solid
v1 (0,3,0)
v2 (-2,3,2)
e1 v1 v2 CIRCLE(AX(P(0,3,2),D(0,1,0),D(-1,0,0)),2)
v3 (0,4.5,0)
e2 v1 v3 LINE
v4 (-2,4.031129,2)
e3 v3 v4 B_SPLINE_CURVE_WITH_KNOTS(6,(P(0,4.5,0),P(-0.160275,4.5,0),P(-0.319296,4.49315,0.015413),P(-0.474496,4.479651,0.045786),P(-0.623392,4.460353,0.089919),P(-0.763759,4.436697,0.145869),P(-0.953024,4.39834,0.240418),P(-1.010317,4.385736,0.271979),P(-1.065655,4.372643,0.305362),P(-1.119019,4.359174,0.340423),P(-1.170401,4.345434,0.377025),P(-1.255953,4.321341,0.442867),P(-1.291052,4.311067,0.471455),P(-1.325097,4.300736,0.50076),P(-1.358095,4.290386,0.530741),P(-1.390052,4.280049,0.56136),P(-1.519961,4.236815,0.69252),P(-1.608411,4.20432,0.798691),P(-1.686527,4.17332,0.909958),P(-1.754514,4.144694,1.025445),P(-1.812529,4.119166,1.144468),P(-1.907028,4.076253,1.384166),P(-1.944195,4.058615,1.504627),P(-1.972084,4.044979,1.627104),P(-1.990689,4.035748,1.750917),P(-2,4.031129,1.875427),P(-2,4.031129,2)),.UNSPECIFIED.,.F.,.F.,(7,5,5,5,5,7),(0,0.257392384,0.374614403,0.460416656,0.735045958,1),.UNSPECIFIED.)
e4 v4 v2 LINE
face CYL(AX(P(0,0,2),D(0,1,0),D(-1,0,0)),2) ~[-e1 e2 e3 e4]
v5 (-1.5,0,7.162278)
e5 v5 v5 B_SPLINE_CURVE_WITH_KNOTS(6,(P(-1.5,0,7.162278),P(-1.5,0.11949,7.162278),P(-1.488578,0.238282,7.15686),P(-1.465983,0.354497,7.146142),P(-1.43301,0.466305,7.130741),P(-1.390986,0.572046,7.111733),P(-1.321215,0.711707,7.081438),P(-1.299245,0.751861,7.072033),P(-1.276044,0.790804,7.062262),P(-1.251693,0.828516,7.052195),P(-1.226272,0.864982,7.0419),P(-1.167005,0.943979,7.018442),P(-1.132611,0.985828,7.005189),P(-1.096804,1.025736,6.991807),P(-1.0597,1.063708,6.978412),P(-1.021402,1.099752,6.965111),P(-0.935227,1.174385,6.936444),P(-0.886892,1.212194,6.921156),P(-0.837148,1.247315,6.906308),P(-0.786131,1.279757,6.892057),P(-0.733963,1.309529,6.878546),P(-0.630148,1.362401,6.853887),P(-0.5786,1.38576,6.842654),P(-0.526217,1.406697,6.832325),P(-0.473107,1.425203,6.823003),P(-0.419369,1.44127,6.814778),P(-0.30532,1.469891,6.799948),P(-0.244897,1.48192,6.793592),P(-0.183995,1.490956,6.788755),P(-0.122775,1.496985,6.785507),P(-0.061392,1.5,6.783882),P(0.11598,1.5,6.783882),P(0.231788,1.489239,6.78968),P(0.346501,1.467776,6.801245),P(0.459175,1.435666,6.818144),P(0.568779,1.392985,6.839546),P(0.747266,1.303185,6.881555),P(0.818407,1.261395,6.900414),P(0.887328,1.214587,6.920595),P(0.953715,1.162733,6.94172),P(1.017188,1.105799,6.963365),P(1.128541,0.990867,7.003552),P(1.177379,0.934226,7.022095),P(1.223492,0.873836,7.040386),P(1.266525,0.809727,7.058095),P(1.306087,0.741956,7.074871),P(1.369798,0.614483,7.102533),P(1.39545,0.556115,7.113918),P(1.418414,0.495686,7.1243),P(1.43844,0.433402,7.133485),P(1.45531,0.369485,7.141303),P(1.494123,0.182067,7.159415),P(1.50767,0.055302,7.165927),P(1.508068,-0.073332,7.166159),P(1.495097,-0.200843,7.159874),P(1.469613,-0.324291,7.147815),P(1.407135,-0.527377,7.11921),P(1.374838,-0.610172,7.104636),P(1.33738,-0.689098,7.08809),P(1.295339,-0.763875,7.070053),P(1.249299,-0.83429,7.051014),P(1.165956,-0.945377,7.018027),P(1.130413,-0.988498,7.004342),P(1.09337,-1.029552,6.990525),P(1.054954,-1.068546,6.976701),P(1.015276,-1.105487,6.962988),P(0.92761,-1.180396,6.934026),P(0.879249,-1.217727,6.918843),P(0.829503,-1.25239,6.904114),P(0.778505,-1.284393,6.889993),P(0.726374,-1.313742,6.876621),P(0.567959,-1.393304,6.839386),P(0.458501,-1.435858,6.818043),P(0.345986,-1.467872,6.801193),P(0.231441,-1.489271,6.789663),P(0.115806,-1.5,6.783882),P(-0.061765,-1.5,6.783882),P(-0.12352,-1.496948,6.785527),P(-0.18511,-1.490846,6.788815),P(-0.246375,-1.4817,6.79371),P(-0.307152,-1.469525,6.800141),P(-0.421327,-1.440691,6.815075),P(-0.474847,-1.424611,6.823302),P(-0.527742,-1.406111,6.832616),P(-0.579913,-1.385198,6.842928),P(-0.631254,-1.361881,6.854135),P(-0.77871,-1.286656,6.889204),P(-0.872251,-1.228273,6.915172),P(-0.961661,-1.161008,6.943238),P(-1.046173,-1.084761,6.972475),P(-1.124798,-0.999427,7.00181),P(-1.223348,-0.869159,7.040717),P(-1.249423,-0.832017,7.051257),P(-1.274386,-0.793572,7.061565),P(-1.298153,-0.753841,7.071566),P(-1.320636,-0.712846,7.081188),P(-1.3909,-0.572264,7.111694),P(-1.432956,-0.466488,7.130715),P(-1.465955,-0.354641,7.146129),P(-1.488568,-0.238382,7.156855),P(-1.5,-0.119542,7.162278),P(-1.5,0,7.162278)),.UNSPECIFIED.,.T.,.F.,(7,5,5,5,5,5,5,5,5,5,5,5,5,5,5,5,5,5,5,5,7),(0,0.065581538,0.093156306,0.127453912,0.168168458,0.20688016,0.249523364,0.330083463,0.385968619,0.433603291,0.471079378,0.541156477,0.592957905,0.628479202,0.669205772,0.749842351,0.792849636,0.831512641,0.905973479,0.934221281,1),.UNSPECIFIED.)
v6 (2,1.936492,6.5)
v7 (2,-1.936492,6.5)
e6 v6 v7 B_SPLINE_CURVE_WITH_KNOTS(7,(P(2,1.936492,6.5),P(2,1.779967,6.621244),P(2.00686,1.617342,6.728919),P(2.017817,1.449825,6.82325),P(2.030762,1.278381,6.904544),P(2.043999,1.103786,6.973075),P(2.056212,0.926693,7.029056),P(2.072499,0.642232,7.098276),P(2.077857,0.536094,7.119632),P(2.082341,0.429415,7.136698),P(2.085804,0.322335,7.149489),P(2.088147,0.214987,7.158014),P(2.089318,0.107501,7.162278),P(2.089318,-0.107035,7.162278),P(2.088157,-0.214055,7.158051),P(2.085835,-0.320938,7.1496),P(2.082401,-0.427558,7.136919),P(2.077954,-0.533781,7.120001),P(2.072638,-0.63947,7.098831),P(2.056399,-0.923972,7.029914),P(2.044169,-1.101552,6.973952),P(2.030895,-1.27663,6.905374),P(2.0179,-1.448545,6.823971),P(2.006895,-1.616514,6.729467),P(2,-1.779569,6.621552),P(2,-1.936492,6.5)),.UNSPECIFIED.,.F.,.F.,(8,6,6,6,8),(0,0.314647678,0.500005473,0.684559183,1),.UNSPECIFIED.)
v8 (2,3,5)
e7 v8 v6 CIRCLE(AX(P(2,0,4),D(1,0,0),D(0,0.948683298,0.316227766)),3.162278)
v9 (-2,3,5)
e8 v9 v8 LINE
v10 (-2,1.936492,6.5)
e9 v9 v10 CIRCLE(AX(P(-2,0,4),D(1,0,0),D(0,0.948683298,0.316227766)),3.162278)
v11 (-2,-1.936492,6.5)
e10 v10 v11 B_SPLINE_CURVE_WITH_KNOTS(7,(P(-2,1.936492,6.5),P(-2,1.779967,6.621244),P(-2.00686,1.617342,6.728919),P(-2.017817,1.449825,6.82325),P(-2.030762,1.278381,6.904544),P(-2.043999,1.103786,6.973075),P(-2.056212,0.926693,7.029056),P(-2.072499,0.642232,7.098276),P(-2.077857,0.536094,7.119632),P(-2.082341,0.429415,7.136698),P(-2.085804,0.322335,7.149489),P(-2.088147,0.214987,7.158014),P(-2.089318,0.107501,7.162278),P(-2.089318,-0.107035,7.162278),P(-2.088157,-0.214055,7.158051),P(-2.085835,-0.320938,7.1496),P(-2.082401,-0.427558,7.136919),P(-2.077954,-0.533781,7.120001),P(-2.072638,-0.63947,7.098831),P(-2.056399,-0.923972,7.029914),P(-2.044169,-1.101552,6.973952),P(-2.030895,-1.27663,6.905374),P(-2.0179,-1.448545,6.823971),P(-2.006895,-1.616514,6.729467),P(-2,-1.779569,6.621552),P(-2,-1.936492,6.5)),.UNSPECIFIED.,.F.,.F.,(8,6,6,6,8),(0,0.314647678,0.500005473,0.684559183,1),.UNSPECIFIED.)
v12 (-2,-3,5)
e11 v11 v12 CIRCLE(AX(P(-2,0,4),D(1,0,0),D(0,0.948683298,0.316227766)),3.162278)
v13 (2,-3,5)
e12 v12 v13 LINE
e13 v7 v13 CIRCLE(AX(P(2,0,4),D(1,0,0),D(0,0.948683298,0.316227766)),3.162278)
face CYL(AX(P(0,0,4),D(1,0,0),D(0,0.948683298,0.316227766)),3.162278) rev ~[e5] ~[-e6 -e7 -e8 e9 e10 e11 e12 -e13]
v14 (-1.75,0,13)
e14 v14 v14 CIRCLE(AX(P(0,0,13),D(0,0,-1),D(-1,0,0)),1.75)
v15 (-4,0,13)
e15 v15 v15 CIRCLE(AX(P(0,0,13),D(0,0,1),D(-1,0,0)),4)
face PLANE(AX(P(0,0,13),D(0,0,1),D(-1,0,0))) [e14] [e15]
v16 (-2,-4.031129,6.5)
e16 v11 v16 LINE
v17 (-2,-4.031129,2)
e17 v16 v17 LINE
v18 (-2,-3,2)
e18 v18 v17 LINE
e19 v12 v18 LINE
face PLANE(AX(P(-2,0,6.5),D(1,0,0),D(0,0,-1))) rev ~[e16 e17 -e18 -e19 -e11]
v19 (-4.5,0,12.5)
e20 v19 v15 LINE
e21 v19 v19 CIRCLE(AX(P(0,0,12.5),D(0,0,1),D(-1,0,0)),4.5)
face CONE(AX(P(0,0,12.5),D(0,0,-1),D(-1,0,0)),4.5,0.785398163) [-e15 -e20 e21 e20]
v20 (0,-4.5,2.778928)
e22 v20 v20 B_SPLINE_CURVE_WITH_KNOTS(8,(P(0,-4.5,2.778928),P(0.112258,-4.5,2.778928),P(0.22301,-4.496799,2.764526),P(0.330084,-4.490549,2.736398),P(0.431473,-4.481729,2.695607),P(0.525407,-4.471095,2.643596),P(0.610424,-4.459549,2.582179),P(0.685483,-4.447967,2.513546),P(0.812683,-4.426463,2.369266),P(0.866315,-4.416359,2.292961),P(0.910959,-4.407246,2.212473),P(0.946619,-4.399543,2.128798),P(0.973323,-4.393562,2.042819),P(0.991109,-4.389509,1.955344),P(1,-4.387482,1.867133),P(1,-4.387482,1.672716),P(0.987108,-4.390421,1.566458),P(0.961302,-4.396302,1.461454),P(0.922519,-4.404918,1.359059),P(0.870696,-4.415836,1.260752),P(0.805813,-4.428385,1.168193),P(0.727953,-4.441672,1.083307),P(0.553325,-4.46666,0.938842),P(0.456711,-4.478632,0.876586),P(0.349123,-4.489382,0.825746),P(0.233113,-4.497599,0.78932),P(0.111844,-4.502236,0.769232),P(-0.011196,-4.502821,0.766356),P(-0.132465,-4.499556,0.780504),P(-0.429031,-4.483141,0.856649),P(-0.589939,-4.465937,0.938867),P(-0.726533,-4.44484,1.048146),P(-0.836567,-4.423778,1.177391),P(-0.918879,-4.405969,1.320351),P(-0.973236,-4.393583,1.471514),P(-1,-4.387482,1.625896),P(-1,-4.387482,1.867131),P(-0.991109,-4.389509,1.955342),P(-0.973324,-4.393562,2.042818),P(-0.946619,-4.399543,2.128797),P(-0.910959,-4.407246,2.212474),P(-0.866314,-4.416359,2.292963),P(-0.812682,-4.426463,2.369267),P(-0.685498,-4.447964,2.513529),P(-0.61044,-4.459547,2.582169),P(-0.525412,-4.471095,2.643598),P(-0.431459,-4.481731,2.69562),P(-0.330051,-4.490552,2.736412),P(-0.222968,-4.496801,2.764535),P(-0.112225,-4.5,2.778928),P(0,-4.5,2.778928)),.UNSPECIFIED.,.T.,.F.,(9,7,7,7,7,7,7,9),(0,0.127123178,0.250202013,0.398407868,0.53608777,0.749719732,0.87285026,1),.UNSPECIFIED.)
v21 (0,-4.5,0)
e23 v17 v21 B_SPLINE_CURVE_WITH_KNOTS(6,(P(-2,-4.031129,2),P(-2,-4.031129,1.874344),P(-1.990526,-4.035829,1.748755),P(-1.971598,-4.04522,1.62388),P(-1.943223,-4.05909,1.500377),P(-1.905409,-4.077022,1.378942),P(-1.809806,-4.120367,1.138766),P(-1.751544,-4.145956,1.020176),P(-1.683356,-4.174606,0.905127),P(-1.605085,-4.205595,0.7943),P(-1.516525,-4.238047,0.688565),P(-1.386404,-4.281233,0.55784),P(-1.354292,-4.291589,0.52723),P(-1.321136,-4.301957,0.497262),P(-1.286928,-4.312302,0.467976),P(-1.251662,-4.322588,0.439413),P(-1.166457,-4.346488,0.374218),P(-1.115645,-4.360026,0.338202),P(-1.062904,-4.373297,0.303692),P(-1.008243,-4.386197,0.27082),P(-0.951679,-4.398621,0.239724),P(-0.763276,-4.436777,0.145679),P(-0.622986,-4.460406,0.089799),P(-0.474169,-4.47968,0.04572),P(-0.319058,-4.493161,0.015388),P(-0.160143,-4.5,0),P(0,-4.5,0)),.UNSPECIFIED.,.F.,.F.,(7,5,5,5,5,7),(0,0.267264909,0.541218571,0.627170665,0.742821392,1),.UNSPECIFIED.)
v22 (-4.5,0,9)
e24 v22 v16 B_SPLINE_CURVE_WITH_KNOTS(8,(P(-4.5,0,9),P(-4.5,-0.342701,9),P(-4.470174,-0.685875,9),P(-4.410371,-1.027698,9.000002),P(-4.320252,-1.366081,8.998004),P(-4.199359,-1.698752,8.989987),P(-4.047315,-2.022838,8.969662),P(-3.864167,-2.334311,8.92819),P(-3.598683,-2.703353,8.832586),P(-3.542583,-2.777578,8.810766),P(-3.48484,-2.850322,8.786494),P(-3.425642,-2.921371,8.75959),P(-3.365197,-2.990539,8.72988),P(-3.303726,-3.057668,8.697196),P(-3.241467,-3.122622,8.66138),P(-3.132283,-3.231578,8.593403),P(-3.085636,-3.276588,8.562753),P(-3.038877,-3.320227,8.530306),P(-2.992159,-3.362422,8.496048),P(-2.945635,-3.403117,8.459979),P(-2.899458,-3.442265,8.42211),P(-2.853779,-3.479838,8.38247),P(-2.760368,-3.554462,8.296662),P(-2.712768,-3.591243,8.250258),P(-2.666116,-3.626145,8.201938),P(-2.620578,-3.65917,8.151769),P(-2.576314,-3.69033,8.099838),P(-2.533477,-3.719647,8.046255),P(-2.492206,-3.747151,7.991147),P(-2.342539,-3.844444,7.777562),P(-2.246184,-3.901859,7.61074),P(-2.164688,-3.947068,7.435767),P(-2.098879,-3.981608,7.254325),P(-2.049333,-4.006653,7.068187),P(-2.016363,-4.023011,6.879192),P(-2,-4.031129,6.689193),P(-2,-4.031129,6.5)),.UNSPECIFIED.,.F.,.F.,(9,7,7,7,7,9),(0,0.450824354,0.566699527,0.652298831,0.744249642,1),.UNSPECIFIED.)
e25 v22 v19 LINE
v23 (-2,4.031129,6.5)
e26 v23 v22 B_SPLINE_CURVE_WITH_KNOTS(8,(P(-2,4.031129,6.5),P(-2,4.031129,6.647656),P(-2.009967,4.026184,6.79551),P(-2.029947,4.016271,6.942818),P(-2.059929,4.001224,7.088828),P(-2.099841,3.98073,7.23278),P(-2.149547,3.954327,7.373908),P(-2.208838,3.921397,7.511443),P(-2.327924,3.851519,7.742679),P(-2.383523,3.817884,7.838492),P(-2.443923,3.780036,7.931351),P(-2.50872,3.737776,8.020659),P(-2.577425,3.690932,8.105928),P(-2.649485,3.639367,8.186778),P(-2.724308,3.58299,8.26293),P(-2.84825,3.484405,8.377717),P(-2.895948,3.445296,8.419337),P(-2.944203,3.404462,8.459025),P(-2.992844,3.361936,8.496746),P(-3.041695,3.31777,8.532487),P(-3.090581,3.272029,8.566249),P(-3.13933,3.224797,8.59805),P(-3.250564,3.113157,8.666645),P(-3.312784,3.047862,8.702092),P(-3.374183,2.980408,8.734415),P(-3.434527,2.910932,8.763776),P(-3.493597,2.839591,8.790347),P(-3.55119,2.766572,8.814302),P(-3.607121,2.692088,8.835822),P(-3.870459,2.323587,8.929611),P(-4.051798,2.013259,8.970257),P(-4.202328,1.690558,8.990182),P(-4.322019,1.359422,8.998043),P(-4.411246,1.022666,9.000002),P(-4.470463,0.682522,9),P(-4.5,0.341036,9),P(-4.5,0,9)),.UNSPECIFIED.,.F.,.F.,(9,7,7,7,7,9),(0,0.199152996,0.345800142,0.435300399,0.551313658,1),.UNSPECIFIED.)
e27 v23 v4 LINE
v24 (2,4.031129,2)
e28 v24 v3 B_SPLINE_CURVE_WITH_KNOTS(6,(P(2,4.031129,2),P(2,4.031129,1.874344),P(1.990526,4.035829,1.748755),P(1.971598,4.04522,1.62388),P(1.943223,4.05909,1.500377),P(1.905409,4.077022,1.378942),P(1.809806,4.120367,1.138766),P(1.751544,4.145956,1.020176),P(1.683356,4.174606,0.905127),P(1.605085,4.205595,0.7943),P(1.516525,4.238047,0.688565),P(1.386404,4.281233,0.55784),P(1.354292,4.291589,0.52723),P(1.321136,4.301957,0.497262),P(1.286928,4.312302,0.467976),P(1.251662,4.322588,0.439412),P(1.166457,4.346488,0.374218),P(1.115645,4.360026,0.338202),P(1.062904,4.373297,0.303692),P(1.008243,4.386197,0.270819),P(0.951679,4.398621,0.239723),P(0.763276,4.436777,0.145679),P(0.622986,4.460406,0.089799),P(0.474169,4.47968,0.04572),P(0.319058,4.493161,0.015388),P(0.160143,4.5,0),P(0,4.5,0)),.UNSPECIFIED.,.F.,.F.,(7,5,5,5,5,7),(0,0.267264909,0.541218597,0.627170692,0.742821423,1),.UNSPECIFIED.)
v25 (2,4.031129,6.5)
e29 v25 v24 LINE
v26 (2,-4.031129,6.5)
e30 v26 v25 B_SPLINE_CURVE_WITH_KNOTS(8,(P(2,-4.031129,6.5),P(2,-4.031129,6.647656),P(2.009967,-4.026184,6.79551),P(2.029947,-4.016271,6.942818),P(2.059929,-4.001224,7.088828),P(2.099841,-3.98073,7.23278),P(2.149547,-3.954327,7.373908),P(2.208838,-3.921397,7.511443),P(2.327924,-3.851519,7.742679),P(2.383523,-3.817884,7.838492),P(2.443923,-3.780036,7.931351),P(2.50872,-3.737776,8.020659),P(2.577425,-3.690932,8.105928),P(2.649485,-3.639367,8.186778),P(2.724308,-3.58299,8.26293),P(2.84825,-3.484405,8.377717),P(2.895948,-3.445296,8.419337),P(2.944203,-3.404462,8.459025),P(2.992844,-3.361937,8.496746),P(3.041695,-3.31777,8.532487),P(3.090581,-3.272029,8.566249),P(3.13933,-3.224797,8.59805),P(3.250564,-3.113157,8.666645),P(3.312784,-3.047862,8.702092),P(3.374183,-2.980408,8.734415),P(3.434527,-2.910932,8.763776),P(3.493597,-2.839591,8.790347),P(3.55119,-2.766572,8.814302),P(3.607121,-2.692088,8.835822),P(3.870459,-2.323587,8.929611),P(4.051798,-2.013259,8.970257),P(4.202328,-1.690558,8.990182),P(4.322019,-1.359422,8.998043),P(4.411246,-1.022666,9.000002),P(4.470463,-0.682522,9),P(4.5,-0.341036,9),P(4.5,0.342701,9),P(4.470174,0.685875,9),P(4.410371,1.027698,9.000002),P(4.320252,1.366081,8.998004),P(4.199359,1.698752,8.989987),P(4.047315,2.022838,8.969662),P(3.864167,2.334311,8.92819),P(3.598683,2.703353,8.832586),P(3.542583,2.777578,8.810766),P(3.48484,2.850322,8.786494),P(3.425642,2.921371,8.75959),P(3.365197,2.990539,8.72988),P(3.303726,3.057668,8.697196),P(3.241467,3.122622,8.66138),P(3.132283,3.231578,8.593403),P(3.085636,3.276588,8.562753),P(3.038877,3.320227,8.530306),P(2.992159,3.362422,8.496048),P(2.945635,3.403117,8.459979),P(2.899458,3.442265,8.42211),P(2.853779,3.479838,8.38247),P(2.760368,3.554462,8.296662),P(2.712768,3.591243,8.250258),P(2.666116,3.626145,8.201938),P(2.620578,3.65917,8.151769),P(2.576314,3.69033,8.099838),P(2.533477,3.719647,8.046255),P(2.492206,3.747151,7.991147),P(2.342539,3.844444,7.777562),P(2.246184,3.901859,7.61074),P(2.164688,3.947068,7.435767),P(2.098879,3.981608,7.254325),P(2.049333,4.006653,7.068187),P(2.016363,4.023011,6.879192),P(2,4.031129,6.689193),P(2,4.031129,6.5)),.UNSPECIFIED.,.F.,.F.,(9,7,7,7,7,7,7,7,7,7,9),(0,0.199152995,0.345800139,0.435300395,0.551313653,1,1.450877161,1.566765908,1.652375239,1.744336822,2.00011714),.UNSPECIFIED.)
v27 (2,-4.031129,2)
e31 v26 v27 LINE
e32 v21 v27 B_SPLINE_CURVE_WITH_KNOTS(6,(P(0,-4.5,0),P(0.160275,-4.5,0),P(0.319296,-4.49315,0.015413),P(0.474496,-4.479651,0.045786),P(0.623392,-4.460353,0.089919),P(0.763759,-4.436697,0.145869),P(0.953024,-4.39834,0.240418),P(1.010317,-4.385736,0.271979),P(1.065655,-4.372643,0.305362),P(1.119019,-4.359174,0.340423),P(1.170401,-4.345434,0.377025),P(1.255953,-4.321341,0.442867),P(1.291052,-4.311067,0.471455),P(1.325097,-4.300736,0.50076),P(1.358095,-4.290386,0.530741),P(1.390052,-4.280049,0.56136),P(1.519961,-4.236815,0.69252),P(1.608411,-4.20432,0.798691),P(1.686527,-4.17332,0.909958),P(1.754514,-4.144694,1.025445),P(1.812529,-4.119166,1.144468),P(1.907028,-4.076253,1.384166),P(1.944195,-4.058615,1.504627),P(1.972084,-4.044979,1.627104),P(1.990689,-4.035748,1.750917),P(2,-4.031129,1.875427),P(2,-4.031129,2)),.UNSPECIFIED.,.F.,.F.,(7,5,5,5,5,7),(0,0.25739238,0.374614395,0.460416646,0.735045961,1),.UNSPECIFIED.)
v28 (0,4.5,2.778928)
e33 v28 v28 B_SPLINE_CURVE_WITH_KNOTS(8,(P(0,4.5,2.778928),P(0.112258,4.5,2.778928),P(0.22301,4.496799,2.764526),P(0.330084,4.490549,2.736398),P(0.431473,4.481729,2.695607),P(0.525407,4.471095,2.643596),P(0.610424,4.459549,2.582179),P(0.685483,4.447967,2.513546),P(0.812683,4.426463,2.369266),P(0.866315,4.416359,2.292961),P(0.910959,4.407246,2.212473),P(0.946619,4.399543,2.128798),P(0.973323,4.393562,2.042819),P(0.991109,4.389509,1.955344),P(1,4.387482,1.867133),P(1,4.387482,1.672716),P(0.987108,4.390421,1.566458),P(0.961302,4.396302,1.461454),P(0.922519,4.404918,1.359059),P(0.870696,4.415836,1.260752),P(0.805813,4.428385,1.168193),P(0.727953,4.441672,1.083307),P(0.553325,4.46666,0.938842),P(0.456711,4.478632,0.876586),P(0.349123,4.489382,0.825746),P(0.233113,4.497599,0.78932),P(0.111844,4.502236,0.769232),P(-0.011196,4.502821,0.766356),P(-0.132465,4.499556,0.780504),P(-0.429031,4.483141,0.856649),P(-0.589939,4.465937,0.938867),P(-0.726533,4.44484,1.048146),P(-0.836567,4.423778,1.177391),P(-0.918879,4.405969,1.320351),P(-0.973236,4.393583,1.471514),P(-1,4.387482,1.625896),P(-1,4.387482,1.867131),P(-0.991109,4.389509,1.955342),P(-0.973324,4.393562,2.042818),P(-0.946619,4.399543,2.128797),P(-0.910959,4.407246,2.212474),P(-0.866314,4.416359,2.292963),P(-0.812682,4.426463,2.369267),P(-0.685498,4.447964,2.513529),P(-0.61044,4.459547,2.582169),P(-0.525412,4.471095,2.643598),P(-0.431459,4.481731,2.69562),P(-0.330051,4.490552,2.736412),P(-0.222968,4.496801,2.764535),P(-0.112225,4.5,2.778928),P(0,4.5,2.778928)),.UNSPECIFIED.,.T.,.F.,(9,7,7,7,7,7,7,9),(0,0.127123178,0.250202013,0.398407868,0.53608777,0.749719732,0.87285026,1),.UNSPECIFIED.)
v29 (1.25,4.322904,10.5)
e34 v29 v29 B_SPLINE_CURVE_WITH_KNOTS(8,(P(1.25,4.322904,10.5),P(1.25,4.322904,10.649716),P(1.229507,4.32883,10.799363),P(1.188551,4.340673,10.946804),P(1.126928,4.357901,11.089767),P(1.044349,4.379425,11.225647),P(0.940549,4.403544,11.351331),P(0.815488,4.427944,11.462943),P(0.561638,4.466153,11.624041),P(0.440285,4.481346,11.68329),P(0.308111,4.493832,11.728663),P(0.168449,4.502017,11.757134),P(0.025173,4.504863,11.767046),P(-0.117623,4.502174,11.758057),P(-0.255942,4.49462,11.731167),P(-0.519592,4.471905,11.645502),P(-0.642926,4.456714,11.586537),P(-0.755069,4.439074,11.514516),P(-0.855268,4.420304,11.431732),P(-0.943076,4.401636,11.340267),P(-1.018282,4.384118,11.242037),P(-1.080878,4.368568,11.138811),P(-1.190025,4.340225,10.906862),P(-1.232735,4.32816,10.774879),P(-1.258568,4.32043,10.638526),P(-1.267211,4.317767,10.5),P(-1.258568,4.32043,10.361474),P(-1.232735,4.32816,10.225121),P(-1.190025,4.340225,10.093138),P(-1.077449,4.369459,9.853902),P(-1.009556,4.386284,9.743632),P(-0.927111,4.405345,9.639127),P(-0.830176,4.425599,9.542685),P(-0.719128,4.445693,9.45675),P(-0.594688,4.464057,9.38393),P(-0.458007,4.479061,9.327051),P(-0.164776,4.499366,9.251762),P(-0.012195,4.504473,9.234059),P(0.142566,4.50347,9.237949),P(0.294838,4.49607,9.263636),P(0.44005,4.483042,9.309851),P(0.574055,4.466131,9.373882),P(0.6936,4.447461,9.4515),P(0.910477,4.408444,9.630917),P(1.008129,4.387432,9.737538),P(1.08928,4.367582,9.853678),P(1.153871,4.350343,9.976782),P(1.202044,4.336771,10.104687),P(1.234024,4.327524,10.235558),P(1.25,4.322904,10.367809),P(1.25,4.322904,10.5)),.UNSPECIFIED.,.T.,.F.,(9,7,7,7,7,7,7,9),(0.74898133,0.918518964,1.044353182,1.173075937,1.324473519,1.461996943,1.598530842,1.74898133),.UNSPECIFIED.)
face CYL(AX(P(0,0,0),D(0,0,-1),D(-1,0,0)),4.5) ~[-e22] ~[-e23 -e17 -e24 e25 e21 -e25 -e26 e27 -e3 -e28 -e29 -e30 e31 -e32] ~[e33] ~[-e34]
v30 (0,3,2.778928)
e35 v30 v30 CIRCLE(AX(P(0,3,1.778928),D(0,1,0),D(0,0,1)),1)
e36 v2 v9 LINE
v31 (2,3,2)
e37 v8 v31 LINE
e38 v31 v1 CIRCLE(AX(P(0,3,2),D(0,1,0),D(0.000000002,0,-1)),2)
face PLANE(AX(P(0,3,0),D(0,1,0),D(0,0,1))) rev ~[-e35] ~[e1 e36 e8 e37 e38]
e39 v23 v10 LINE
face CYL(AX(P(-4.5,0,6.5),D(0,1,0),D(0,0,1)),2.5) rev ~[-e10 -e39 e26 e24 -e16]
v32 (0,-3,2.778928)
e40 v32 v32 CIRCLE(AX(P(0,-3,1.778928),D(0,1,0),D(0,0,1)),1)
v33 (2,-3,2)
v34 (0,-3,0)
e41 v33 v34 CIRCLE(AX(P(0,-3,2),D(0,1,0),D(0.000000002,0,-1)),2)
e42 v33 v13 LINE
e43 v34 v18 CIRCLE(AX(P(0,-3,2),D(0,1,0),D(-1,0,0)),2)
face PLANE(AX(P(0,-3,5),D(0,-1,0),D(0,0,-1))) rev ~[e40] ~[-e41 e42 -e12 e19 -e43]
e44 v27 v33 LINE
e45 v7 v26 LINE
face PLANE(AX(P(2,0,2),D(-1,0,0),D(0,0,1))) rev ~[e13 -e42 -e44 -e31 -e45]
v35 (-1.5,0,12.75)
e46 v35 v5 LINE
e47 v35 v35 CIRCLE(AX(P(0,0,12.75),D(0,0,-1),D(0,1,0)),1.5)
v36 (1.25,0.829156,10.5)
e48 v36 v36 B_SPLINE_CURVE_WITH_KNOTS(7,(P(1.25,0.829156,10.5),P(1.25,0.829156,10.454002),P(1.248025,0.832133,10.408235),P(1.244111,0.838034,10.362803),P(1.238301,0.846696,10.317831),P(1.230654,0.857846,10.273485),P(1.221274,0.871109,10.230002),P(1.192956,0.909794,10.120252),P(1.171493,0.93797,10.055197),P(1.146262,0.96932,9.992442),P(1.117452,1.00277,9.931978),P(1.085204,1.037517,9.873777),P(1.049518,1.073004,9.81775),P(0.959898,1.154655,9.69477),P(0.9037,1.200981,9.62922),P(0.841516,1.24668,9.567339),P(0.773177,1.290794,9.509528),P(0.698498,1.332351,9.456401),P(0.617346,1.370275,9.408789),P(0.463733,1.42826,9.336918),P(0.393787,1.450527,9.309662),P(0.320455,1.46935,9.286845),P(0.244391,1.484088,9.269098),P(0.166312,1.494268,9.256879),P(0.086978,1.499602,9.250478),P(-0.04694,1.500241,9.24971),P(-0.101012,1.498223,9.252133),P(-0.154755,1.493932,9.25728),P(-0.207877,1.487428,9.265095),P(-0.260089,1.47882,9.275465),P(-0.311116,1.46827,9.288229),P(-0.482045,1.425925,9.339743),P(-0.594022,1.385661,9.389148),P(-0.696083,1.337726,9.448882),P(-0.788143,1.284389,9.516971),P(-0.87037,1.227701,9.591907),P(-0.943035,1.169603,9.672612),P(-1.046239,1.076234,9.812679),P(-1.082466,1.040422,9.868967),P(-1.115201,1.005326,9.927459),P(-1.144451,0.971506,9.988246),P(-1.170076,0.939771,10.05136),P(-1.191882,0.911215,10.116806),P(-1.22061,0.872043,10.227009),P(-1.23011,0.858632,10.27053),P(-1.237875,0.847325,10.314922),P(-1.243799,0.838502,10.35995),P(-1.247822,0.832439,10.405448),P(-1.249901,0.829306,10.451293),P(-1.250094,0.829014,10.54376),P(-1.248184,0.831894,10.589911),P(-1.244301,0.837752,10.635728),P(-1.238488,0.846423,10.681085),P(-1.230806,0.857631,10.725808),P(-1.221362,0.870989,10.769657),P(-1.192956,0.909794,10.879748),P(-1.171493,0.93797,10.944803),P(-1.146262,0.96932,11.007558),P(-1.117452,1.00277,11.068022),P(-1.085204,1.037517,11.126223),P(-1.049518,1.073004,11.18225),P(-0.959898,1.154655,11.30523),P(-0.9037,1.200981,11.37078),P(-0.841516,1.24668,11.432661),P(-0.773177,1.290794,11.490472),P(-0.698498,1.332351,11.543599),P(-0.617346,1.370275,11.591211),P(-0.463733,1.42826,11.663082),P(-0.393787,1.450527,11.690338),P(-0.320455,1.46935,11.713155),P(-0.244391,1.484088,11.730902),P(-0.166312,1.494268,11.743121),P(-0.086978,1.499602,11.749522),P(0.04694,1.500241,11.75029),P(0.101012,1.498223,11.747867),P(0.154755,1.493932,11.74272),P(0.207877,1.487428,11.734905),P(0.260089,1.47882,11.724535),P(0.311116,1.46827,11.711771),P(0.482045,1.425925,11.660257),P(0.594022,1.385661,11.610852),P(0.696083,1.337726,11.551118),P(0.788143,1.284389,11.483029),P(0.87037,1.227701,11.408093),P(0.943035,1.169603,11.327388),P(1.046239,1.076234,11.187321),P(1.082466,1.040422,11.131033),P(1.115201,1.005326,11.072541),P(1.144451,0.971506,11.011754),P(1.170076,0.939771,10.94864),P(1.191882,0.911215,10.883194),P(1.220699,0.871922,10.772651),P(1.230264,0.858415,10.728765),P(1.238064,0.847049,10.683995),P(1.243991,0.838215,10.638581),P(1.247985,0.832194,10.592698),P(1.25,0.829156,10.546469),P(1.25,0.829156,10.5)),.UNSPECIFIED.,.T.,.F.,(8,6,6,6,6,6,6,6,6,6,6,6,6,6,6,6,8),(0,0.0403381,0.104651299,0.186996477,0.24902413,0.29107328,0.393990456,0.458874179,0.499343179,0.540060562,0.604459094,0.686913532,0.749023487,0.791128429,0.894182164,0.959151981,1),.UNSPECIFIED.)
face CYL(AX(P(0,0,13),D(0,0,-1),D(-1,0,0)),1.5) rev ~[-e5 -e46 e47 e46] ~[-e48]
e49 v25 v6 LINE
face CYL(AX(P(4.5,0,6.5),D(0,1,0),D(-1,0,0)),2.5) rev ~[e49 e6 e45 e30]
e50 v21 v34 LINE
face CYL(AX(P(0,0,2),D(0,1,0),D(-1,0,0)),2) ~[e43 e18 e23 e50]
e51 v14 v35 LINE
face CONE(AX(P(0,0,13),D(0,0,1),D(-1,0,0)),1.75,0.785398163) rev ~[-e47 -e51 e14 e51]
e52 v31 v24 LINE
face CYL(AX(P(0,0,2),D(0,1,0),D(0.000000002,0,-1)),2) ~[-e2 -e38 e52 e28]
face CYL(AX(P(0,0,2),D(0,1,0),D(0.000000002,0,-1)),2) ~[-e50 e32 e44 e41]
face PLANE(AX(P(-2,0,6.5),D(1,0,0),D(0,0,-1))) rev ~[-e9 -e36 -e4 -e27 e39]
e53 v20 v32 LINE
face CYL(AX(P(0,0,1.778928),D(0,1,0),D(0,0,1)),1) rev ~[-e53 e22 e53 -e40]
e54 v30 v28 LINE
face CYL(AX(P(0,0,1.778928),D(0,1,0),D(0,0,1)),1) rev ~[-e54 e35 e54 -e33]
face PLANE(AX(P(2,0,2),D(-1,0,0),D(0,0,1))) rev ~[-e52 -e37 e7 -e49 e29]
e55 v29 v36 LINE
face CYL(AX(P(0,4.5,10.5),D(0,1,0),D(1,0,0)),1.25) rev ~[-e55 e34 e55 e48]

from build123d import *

# Parameters (mm, degrees)
SKETCH_1_R                = 4.5
EXTRUDE_1_DEPTH           = 13
CUT_EXTRUDE_1_DEPTH       = 6.5
CUT_EXTRUDE_2_DEPTH       = 6.5
SKETCH_4_R                = 1
CUT_EXTRUDE_3_DEPTH       = 6.5
HOLE_WIZARD_1_D           = 3
HOLE_WIZARD_1_CSINK_D     = 3.5
HOLE_WIZARD_1_CSINK_ANGLE = 90
CHAMFER_1_SIZE            = 0.5
HOLE_WIZARD_M3_1_REACH    = 18.439
HOLE_WIZARD_M3_1_BORE_R   = 1.25


with BuildPart() as part:
    # 草图1 → 凸台-拉伸1 (new body)
    with BuildSketch(Plane.XY):
        with Locations(Location((0, 0, 0), (0, 0, 180))):
            Circle(SKETCH_1_R)
    extrude(amount=EXTRUDE_1_DEPTH)

    # 草图2 → 切除-拉伸1 (cut, symmetric)
    with BuildSketch(Plane(origin=(0, 0, 0), x_dir=(1, 0, 0), z_dir=(0, 1, 0))):
        with BuildLine():
            Line((5e-09, 0), (-4.5, 0))
            Line((-4.5, 0), (-4.5, -9))
            ThreePointArc((-4.5, -9), (-2.732233047, -8.267766953), (-2, -6.5))
            Line((-2, -6.5), (-2, -2))
            ThreePointArc((-2, -2), (-1.414213561, -0.585786436), (5e-09, 0))
        make_face()
        with BuildLine():
            Line((4.5, 0), (5e-09, 0))
            ThreePointArc((5e-09, 0), (1.414213564, -0.585786439), (2, -2))
            Line((2, -2), (2, -6.5))
            ThreePointArc((2, -6.5), (2.732233047, -8.267766953), (4.5, -9))
            Line((4.5, -9), (4.5, 0))
        make_face()
    extrude(amount=CUT_EXTRUDE_1_DEPTH, both=True, mode=Mode.SUBTRACT)

    # 草图3 → 切除-拉伸2 (cut, symmetric)
    with BuildSketch(Plane(origin=(0, 0, 0), x_dir=(0, 0, -1), z_dir=(1, 0, 0))):
        with BuildLine():
            Line((0, 3), (-5, 3))
            ThreePointArc((-5, 3), (-7.16227766, 0), (-5, -3))
            Line((-5, -3), (0, -3))
            Line((0, -3), (0, 3))
        make_face()
    extrude(amount=CUT_EXTRUDE_2_DEPTH, both=True, mode=Mode.SUBTRACT)

    # 草图4 → 切除-拉伸3 (cut, symmetric)
    with BuildSketch(Plane(origin=(0, 0, 0), x_dir=(1, 0, 0), z_dir=(0, 1, 0))):
        with Locations(Location((0, -1.778928225, 0), (0, 0, 270))):
            Circle(SKETCH_4_R)
    extrude(amount=CUT_EXTRUDE_3_DEPTH, both=True, mode=Mode.SUBTRACT)

    # 打孔尺寸根据开槽半沉头木螺钉的类型1 (through all)
    with Locations(Plane.XY.offset(13)):
        with Locations((0, 0)):
            CounterSinkHole(HOLE_WIZARD_1_D / 2, HOLE_WIZARD_1_CSINK_D / 2, counter_sink_angle=HOLE_WIZARD_1_CSINK_ANGLE)

    # 倒角1
    chamfer_1_edges = [part.edges().sort_by_distance(p)[0] for p in [
        (4.5, 0, 13),
    ]]
    chamfer(chamfer_1_edges, length=CHAMFER_1_SIZE)

    # M3 螺纹孔1 bore → M3 螺纹孔1 (cut, up to next)
    with BuildSketch(Plane(origin=(0, 4.5, 0), x_dir=(1, 0, 0), z_dir=(0, 1, 0)), mode=Mode.PRIVATE) as hole_wizard_m3_1_sk1:
        with Locations((0, -10.5)):
            Circle(HOLE_WIZARD_M3_1_BORE_R)
    hole_wizard_m3_1_tool1 = extrude(hole_wizard_m3_1_sk1.sketch, amount=-HOLE_WIZARD_M3_1_REACH, mode=Mode.PRIVATE) & part.part
    add(hole_wizard_m3_1_tool1.solids().sort_by_distance((0, 4.5, 10.5))[0], mode=Mode.SUBTRACT)


solid = part.part
